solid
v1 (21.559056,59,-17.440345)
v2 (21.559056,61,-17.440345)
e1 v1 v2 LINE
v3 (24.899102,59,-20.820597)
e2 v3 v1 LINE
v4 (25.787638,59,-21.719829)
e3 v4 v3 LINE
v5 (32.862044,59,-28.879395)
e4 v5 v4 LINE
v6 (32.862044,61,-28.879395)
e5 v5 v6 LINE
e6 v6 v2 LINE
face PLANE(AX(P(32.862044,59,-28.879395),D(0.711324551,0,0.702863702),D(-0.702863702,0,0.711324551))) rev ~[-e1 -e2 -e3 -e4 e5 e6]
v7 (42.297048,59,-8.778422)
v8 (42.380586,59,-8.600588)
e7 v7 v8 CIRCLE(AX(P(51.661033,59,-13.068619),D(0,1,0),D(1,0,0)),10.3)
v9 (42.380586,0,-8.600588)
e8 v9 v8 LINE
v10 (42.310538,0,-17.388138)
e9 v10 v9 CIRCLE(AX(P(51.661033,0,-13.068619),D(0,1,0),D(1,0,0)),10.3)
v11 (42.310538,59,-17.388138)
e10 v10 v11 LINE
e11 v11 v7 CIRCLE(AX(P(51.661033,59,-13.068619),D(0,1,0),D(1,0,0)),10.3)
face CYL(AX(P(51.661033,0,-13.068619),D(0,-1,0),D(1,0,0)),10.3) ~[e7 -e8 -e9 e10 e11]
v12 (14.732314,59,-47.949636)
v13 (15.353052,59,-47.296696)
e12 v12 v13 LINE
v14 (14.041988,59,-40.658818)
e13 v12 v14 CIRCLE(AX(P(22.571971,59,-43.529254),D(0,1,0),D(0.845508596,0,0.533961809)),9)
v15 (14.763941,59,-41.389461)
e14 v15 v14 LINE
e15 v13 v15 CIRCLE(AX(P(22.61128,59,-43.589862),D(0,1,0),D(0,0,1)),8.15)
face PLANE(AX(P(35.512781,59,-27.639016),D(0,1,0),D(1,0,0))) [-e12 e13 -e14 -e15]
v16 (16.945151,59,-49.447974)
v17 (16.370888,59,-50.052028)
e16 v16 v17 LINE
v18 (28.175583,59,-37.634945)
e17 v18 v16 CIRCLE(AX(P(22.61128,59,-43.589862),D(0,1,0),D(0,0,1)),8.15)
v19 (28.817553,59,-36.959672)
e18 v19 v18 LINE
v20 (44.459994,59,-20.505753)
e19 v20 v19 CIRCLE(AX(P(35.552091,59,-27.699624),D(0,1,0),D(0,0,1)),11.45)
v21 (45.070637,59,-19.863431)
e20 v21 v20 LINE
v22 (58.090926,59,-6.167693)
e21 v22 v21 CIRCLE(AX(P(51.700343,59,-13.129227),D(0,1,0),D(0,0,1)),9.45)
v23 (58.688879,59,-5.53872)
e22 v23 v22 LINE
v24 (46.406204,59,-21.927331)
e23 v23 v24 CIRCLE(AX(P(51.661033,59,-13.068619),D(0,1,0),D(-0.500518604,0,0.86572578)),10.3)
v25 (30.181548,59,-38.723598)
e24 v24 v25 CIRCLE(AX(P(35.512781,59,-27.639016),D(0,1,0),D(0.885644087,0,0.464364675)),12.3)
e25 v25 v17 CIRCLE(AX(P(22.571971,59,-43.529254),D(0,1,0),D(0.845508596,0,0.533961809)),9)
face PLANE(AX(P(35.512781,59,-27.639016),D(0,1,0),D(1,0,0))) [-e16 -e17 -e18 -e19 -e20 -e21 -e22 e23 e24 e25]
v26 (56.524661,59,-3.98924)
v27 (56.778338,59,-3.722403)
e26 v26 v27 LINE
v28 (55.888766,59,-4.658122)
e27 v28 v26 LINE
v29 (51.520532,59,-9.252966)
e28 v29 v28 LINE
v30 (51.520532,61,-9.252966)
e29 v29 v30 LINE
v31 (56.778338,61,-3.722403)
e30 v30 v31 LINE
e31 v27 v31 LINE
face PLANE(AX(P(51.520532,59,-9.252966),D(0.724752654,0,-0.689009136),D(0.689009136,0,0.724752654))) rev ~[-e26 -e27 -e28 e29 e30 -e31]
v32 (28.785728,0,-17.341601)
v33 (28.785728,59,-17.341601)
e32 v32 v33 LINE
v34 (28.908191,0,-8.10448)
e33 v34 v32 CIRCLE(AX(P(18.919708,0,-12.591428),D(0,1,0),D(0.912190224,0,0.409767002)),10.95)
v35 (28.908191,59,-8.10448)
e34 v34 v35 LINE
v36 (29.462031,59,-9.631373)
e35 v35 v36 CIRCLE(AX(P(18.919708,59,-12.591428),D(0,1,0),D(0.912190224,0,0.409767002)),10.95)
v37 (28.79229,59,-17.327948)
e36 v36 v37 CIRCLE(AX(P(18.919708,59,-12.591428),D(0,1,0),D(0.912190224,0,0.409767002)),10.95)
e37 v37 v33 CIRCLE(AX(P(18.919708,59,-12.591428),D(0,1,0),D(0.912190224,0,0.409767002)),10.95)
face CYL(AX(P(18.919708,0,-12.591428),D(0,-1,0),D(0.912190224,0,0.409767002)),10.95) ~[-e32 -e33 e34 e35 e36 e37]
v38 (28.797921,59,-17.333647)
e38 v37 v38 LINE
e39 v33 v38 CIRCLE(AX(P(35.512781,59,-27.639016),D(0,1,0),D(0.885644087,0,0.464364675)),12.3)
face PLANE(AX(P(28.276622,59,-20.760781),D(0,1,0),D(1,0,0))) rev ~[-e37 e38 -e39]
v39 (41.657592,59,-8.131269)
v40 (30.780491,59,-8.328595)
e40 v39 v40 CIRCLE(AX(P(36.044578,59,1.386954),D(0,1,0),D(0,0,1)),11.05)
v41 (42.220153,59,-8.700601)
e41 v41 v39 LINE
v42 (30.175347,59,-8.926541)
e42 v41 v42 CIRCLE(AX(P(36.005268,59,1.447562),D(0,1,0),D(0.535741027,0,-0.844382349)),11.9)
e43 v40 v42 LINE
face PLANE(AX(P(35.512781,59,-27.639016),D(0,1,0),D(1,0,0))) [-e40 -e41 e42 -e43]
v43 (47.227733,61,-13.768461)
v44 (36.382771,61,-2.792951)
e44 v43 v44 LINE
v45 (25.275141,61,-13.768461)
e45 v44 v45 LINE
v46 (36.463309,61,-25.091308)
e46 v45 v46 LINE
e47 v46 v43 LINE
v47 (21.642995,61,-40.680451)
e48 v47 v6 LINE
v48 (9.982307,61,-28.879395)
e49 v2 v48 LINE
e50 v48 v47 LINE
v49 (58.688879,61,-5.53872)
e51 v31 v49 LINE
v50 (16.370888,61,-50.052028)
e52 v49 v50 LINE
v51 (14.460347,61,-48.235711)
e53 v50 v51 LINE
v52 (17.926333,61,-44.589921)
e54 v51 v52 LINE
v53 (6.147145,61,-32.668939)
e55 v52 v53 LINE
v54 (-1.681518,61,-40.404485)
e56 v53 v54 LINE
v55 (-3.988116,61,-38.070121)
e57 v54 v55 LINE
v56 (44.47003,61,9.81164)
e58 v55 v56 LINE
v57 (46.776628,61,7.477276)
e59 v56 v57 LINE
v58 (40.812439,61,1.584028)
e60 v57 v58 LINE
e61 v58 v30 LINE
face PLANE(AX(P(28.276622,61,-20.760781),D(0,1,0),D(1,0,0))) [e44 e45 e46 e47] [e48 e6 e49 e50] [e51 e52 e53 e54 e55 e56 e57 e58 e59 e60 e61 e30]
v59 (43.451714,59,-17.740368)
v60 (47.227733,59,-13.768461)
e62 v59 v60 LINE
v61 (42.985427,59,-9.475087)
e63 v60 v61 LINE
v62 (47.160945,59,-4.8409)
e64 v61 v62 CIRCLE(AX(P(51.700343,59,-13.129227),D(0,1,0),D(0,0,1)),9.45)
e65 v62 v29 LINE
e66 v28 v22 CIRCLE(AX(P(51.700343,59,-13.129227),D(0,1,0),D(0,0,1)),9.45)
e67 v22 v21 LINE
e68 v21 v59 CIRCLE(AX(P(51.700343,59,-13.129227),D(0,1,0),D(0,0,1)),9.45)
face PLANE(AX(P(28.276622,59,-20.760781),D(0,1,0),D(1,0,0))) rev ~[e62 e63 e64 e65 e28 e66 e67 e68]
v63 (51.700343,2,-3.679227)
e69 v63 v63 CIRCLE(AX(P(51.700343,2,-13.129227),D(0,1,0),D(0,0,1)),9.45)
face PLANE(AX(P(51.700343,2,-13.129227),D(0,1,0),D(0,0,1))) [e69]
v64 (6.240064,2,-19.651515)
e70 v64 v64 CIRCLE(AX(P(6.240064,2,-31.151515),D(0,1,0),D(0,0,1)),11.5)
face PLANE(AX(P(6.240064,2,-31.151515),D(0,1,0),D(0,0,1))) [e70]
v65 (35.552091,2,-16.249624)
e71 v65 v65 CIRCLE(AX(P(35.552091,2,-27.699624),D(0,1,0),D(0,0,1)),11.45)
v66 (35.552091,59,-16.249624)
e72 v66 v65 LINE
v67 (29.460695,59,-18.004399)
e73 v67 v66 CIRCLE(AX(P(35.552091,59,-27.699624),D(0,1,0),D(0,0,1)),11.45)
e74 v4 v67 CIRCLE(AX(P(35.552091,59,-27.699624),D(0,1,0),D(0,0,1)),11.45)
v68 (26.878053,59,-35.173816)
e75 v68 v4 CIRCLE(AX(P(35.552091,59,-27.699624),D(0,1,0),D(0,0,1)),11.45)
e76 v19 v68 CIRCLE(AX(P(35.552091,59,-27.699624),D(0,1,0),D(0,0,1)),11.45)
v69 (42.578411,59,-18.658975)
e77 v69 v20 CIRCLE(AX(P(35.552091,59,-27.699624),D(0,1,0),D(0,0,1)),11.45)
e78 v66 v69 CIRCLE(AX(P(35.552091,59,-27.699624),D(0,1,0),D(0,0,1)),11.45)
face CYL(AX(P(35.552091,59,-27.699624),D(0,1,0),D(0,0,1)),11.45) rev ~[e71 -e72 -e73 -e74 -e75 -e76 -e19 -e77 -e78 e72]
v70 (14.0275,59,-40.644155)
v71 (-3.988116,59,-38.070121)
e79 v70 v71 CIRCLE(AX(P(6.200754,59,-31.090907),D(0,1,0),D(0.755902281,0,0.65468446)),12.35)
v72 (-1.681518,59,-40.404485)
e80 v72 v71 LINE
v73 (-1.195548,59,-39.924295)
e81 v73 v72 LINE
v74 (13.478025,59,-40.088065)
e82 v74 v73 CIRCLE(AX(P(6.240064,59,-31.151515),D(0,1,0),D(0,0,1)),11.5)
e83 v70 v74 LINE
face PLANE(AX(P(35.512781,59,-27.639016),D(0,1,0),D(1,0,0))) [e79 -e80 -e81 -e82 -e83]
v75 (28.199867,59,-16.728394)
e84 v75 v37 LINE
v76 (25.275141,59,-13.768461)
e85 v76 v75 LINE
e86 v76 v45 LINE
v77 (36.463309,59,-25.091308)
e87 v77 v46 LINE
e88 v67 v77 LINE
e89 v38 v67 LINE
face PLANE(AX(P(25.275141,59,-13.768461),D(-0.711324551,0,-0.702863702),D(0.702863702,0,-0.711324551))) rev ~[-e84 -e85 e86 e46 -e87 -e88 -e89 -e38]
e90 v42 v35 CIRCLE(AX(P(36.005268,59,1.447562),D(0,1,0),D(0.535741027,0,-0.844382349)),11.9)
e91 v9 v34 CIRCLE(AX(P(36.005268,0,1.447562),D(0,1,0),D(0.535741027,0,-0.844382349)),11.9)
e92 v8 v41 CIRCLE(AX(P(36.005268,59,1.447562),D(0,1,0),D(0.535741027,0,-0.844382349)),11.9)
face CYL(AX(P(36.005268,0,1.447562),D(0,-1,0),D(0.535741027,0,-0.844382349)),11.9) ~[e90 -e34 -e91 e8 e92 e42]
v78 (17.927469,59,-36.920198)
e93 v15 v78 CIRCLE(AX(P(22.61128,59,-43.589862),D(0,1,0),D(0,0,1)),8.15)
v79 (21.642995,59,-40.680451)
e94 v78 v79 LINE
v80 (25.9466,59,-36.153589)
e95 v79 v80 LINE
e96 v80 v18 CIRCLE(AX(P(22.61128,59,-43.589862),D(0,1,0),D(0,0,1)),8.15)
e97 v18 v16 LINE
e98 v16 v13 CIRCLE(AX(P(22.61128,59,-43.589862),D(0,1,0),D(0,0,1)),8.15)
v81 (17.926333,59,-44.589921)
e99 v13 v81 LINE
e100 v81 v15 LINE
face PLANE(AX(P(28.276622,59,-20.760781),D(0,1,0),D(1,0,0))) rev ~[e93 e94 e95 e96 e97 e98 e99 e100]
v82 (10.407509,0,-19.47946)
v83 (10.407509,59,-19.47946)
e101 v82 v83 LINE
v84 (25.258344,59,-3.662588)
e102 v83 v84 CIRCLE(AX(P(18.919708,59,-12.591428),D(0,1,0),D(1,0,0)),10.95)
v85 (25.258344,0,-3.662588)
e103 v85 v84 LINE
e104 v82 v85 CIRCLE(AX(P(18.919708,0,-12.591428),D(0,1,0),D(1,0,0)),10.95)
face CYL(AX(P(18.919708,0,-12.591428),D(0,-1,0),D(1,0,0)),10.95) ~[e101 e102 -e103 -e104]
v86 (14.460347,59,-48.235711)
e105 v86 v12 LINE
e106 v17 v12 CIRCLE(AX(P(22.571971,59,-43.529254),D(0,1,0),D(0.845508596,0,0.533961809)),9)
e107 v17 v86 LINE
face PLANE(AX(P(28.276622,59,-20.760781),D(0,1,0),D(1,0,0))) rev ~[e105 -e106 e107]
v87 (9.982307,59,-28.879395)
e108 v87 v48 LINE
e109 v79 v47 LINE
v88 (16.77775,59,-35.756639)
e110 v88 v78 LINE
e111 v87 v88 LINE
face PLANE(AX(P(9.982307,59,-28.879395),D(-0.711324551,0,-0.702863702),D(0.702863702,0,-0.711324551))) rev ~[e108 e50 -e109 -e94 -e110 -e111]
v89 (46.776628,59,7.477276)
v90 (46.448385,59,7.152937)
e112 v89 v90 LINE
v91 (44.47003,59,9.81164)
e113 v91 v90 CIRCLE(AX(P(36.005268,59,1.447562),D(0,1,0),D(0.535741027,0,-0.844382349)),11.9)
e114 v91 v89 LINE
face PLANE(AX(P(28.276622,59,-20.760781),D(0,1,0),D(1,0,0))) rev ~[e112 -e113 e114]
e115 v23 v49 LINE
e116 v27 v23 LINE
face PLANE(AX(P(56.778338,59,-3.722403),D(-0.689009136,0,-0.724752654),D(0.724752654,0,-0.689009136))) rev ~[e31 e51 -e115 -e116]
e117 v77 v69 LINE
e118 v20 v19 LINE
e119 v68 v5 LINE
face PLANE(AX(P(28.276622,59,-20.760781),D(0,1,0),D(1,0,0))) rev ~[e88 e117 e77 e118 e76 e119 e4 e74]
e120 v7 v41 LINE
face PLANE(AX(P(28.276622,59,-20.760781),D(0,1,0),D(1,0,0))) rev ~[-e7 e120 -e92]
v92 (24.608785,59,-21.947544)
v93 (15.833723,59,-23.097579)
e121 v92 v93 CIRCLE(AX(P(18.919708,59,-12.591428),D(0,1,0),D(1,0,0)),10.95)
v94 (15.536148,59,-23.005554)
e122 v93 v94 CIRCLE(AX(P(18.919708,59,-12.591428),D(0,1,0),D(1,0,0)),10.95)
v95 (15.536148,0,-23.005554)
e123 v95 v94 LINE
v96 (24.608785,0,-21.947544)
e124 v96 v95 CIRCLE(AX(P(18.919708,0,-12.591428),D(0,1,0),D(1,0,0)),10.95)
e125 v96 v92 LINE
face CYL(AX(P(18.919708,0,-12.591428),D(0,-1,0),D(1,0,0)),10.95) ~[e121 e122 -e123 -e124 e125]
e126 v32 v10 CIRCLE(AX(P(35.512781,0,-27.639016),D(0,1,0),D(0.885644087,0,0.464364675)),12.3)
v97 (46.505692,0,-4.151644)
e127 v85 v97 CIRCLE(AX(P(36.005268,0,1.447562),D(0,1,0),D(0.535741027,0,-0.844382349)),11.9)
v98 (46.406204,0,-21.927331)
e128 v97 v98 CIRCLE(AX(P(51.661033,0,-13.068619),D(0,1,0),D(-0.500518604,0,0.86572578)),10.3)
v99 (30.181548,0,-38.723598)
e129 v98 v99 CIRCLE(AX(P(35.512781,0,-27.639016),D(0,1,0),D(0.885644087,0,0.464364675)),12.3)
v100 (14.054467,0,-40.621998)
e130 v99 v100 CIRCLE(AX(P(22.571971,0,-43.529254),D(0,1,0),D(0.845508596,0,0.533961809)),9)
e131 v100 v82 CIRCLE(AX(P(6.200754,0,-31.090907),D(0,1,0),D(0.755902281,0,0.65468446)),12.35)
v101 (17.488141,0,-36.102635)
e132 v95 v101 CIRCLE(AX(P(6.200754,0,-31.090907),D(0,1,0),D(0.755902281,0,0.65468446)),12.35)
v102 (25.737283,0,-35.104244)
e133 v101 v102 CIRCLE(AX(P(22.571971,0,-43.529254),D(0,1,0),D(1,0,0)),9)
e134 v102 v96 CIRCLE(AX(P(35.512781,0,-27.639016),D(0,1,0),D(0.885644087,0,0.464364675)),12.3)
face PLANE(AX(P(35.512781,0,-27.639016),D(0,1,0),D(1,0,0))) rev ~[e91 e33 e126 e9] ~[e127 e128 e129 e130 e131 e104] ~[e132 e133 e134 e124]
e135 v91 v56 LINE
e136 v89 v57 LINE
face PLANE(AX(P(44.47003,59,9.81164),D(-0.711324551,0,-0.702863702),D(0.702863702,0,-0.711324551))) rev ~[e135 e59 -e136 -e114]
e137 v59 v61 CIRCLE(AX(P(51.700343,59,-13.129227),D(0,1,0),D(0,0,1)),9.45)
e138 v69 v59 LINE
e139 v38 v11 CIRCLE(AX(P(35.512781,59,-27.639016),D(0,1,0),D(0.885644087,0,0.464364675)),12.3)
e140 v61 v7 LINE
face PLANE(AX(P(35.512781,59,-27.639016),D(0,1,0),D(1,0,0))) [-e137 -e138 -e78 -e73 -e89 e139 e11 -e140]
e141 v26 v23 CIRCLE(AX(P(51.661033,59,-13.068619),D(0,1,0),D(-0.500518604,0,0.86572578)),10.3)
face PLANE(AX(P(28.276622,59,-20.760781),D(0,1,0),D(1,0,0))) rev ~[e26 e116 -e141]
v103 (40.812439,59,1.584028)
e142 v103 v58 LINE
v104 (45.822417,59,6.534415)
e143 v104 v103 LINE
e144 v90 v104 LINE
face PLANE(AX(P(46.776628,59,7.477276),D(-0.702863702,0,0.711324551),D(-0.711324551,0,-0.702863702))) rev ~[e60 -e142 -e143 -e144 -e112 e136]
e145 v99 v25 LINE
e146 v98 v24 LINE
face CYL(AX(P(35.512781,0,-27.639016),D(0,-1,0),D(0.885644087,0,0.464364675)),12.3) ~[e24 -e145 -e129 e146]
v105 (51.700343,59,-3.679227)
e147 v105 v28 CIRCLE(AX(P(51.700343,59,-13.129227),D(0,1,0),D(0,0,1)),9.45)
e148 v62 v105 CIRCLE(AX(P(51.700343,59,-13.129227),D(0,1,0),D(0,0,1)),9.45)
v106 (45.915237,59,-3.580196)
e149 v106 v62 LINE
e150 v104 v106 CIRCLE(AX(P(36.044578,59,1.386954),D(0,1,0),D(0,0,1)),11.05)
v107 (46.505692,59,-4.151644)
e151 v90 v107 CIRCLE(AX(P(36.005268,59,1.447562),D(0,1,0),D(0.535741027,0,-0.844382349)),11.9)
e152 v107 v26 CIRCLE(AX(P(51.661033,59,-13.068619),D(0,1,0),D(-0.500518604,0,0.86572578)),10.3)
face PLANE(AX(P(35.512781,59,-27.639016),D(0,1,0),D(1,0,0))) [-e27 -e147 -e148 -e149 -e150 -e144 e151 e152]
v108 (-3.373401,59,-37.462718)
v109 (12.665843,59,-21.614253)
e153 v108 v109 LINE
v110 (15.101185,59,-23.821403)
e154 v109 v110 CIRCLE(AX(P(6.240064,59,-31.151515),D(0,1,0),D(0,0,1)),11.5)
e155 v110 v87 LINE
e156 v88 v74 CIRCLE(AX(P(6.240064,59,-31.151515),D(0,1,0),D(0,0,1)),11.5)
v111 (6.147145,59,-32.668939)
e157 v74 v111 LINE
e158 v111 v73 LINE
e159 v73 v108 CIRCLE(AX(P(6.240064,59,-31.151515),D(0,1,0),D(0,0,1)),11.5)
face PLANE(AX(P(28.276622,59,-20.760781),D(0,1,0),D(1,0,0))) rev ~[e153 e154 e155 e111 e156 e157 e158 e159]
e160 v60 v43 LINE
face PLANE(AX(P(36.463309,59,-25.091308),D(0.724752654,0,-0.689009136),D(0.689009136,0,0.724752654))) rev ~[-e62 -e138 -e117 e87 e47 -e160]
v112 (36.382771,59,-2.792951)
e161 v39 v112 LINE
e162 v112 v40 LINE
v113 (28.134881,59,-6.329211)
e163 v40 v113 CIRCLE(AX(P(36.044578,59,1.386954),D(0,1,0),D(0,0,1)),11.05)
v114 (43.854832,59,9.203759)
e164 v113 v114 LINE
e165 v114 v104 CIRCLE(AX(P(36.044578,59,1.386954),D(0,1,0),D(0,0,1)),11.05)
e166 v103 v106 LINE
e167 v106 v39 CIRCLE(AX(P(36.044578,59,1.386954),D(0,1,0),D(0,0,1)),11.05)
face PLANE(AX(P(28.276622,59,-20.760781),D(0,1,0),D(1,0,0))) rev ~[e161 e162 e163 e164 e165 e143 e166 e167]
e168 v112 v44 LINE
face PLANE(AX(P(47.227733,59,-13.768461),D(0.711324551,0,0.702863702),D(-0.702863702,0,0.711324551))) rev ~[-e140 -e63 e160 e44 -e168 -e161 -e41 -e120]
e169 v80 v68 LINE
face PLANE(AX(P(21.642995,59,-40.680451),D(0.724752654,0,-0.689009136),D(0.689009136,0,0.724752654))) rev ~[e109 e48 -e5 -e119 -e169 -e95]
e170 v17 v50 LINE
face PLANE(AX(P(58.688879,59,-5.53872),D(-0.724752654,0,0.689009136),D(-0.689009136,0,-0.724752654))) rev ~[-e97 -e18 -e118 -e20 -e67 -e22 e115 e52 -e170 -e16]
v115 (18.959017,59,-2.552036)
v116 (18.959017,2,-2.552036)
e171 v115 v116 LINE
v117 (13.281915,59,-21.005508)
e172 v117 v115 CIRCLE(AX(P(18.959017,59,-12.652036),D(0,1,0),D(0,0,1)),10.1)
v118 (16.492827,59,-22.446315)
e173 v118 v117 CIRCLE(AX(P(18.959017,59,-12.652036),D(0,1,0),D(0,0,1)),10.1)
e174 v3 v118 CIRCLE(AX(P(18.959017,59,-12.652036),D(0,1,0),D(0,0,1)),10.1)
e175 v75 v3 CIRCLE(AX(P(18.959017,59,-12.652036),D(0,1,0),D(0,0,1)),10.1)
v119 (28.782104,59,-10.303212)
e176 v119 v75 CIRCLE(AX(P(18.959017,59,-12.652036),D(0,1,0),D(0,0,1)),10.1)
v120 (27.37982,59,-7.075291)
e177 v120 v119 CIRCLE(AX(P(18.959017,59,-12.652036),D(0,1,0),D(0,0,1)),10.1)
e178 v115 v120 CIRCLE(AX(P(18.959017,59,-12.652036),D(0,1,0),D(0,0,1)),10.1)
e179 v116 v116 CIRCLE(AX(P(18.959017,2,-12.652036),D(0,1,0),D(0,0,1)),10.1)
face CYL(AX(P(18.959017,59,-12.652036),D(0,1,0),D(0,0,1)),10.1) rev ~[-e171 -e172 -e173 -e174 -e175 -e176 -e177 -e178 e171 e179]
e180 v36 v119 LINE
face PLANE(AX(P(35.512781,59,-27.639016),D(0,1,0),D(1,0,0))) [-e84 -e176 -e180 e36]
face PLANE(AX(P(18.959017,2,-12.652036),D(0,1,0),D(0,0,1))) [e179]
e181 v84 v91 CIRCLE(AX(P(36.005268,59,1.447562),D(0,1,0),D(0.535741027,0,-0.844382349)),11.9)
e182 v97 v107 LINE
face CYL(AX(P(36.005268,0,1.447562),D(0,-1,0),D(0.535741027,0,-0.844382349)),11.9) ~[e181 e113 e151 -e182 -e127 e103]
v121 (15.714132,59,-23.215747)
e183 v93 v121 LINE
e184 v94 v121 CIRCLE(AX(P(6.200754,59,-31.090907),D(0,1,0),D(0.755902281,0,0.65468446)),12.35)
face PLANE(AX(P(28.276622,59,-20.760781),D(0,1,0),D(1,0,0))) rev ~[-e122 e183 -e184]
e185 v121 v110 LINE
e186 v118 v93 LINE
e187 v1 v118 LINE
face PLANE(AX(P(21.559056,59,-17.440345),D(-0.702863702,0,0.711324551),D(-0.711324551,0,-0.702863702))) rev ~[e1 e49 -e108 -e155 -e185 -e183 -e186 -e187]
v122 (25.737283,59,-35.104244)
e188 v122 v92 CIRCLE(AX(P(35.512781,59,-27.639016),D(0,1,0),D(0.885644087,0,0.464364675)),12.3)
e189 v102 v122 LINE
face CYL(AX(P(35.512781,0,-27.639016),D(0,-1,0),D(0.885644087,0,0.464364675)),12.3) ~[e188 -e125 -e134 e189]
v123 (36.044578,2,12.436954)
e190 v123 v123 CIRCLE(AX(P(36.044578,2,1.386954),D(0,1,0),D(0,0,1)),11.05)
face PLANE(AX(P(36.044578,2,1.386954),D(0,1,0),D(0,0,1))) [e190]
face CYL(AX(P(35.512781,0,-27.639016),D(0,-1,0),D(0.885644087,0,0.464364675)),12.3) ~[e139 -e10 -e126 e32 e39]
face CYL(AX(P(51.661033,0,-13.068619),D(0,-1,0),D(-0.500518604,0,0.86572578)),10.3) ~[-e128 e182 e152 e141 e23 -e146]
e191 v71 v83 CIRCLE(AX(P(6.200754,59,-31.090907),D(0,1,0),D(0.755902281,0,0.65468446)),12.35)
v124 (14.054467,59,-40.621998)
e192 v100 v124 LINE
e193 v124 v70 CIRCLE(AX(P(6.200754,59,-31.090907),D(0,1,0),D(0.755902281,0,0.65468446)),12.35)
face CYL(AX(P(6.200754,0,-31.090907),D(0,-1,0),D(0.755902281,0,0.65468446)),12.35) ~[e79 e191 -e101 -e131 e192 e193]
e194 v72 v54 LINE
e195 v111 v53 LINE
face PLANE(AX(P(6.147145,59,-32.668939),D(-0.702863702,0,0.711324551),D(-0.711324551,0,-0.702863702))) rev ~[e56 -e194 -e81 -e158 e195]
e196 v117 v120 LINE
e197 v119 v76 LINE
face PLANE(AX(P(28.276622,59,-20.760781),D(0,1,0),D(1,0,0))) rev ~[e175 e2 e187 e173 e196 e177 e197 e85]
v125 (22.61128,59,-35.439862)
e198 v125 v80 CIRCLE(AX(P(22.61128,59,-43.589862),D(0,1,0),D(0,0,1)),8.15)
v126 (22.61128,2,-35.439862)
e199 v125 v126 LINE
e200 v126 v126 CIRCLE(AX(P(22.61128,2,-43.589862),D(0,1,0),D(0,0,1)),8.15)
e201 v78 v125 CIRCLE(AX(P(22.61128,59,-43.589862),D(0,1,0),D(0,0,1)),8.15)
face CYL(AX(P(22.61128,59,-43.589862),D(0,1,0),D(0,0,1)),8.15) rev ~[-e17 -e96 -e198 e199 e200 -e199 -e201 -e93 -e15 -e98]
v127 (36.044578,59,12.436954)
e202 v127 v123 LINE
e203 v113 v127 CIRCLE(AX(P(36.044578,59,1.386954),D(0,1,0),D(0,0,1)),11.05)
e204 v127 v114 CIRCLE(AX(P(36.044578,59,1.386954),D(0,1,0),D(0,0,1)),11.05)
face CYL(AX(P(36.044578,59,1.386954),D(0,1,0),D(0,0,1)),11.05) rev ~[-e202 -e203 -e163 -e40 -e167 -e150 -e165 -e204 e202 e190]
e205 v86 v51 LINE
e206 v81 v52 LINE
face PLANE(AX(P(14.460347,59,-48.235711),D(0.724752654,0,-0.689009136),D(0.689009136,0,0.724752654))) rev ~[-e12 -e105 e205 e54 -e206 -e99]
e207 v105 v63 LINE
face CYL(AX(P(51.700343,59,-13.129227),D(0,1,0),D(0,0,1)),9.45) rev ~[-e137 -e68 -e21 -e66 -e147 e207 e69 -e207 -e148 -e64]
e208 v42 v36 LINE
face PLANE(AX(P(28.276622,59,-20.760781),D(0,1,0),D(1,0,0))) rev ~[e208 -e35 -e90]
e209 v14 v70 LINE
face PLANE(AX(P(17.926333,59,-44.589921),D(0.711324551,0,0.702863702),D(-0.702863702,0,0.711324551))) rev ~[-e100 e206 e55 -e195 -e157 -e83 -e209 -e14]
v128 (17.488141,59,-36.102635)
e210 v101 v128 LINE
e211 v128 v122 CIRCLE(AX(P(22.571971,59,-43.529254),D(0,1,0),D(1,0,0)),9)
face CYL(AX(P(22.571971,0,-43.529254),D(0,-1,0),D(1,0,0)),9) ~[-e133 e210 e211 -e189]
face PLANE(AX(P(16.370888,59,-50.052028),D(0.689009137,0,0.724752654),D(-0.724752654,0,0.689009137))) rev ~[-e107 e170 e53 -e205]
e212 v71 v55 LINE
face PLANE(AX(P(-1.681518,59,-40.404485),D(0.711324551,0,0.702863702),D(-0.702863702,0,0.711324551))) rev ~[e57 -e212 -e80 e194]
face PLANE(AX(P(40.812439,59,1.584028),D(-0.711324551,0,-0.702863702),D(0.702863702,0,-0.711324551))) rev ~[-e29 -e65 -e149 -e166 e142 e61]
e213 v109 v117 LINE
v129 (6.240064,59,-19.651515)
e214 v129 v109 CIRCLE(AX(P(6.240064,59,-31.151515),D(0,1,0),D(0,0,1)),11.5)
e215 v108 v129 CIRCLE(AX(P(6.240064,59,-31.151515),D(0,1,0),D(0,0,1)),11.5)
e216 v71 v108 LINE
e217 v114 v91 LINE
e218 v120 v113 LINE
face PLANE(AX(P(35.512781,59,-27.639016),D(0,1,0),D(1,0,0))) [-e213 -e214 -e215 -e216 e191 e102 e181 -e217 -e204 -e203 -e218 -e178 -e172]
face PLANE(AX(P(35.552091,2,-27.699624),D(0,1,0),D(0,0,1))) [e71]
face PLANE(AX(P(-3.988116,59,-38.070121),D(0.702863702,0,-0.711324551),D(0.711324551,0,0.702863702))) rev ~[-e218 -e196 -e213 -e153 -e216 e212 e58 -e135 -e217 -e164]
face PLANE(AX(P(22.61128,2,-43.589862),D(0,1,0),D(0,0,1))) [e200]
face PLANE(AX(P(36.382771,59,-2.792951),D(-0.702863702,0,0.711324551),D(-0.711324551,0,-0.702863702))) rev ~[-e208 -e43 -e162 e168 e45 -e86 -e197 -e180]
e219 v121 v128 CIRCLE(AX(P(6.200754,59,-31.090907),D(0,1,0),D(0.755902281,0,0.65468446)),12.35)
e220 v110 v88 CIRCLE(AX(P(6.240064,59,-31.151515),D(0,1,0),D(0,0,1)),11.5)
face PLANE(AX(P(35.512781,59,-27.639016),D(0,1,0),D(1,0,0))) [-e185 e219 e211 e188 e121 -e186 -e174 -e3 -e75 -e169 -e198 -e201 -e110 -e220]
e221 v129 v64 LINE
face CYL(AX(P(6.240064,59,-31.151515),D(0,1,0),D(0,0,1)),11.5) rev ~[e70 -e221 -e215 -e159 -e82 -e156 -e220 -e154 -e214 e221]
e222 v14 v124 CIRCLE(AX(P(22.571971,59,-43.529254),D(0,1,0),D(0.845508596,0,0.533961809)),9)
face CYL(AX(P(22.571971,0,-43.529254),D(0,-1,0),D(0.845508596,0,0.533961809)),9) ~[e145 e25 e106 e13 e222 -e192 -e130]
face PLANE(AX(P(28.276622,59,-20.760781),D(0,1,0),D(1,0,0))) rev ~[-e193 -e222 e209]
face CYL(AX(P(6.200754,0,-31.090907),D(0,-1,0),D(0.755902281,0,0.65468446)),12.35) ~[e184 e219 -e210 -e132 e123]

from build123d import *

# Parameters (mm, degrees)
SKETCH1_R           = 12.3
SKETCH1_R_2         = 11.9
SKETCH1_R_3         = 10.3
SKETCH1_R_4         = 10.95
SKETCH1_R_5         = 12.35
SKETCH1_R_6         = 9
BOSS_EXTRUDE4_DEPTH = 59
SKETCH4_R           = 8.15
SKETCH4_R_2         = 11.5
SKETCH4_R_3         = 10.1
SKETCH4_R_4         = 11.45
SKETCH4_R_5         = 9.45
SKETCH4_R_6         = 11.05
CUT_EXTRUDE2_DEPTH  = 57
BOSS_EXTRUDE5_DEPTH = 2


with BuildPart() as part:
    # Sketch1 → Boss-Extrude4 (new body)
    with BuildSketch(Plane(origin=(0, 0, 0), x_dir=(1, 0, 0), z_dir=(0, 1, 0))):
        with Locations((35.512781465, 27.639016147)):
            Circle(SKETCH1_R)
        with Locations((36.005267937, -1.447561772)):
            Circle(SKETCH1_R_2)
        with Locations((51.661033243, 13.068619292)):
            Circle(SKETCH1_R_3)
        with Locations((18.919707674, 12.591428229)):
            Circle(SKETCH1_R_4)
        with Locations((6.200754384, 31.090907335)):
            Circle(SKETCH1_R_5)
        with Locations((22.571970647, 43.529254056)):
            Circle(SKETCH1_R_6)
    extrude(amount=BOSS_EXTRUDE4_DEPTH)

    # Sketch4 → Cut-Extrude2 (cut)
    with BuildSketch(Plane(origin=(0, 59, 0), x_dir=(1, 0, 0), z_dir=(0, 1, 0))):
        with Locations(Location((22.611280457, 43.589861599, 0), (0, 0, 270))):
            Circle(SKETCH4_R)
        with Locations(Location((6.240064194, 31.151514878, 0), (0, 0, 270))):
            Circle(SKETCH4_R_2)
        with Locations(Location((18.959017484, 12.652035772, 0), (0, 0, 270))):
            Circle(SKETCH4_R_3)
        with Locations(Location((35.552091275, 27.69962369, 0), (0, 0, 270))):
            Circle(SKETCH4_R_4)
        with Locations(Location((51.700343053, 13.129226835, 0), (0, 0, 270))):
            Circle(SKETCH4_R_5)
        with Locations(Location((36.044577747, -1.386954229, 0), (0, 0, 270))):
            Circle(SKETCH4_R_6)
    extrude(amount=-CUT_EXTRUDE2_DEPTH, mode=Mode.SUBTRACT)

    # Sketch5 → Boss-Extrude5 (add)
    with BuildSketch(Plane(origin=(0, 59, 0), x_dir=(1, 0, 0), z_dir=(0, 1, 0))):
        Polygon((40.81243907, -1.58402798), (51.520532369, 9.252965923), (56.778337624, 3.7224031), (58.688878923, 5.538719884), (16.370888419, 50.052027945), (14.460347121, 48.235711161), (17.926333207, 44.589921166), (6.147145479, 32.668939341), (-1.681518051, 40.404484846), (-3.988115938, 38.070120871), (44.470030089, -9.811639827), (46.776627976, -7.477275852), align=None)
        Polygon((36.463308943, 25.091308361), (47.227733247, 13.768461283), (36.382771282, 2.792951133), (25.275141449, 13.768461283), align=None, mode=Mode.SUBTRACT)
        Polygon((21.642995472, 40.680450739), (32.86204414, 28.879394887), (21.559056386, 17.440345379), (9.982307257, 28.879394887), align=None, mode=Mode.SUBTRACT)
    extrude(amount=BOSS_EXTRUDE5_DEPTH)


solid = part.part
